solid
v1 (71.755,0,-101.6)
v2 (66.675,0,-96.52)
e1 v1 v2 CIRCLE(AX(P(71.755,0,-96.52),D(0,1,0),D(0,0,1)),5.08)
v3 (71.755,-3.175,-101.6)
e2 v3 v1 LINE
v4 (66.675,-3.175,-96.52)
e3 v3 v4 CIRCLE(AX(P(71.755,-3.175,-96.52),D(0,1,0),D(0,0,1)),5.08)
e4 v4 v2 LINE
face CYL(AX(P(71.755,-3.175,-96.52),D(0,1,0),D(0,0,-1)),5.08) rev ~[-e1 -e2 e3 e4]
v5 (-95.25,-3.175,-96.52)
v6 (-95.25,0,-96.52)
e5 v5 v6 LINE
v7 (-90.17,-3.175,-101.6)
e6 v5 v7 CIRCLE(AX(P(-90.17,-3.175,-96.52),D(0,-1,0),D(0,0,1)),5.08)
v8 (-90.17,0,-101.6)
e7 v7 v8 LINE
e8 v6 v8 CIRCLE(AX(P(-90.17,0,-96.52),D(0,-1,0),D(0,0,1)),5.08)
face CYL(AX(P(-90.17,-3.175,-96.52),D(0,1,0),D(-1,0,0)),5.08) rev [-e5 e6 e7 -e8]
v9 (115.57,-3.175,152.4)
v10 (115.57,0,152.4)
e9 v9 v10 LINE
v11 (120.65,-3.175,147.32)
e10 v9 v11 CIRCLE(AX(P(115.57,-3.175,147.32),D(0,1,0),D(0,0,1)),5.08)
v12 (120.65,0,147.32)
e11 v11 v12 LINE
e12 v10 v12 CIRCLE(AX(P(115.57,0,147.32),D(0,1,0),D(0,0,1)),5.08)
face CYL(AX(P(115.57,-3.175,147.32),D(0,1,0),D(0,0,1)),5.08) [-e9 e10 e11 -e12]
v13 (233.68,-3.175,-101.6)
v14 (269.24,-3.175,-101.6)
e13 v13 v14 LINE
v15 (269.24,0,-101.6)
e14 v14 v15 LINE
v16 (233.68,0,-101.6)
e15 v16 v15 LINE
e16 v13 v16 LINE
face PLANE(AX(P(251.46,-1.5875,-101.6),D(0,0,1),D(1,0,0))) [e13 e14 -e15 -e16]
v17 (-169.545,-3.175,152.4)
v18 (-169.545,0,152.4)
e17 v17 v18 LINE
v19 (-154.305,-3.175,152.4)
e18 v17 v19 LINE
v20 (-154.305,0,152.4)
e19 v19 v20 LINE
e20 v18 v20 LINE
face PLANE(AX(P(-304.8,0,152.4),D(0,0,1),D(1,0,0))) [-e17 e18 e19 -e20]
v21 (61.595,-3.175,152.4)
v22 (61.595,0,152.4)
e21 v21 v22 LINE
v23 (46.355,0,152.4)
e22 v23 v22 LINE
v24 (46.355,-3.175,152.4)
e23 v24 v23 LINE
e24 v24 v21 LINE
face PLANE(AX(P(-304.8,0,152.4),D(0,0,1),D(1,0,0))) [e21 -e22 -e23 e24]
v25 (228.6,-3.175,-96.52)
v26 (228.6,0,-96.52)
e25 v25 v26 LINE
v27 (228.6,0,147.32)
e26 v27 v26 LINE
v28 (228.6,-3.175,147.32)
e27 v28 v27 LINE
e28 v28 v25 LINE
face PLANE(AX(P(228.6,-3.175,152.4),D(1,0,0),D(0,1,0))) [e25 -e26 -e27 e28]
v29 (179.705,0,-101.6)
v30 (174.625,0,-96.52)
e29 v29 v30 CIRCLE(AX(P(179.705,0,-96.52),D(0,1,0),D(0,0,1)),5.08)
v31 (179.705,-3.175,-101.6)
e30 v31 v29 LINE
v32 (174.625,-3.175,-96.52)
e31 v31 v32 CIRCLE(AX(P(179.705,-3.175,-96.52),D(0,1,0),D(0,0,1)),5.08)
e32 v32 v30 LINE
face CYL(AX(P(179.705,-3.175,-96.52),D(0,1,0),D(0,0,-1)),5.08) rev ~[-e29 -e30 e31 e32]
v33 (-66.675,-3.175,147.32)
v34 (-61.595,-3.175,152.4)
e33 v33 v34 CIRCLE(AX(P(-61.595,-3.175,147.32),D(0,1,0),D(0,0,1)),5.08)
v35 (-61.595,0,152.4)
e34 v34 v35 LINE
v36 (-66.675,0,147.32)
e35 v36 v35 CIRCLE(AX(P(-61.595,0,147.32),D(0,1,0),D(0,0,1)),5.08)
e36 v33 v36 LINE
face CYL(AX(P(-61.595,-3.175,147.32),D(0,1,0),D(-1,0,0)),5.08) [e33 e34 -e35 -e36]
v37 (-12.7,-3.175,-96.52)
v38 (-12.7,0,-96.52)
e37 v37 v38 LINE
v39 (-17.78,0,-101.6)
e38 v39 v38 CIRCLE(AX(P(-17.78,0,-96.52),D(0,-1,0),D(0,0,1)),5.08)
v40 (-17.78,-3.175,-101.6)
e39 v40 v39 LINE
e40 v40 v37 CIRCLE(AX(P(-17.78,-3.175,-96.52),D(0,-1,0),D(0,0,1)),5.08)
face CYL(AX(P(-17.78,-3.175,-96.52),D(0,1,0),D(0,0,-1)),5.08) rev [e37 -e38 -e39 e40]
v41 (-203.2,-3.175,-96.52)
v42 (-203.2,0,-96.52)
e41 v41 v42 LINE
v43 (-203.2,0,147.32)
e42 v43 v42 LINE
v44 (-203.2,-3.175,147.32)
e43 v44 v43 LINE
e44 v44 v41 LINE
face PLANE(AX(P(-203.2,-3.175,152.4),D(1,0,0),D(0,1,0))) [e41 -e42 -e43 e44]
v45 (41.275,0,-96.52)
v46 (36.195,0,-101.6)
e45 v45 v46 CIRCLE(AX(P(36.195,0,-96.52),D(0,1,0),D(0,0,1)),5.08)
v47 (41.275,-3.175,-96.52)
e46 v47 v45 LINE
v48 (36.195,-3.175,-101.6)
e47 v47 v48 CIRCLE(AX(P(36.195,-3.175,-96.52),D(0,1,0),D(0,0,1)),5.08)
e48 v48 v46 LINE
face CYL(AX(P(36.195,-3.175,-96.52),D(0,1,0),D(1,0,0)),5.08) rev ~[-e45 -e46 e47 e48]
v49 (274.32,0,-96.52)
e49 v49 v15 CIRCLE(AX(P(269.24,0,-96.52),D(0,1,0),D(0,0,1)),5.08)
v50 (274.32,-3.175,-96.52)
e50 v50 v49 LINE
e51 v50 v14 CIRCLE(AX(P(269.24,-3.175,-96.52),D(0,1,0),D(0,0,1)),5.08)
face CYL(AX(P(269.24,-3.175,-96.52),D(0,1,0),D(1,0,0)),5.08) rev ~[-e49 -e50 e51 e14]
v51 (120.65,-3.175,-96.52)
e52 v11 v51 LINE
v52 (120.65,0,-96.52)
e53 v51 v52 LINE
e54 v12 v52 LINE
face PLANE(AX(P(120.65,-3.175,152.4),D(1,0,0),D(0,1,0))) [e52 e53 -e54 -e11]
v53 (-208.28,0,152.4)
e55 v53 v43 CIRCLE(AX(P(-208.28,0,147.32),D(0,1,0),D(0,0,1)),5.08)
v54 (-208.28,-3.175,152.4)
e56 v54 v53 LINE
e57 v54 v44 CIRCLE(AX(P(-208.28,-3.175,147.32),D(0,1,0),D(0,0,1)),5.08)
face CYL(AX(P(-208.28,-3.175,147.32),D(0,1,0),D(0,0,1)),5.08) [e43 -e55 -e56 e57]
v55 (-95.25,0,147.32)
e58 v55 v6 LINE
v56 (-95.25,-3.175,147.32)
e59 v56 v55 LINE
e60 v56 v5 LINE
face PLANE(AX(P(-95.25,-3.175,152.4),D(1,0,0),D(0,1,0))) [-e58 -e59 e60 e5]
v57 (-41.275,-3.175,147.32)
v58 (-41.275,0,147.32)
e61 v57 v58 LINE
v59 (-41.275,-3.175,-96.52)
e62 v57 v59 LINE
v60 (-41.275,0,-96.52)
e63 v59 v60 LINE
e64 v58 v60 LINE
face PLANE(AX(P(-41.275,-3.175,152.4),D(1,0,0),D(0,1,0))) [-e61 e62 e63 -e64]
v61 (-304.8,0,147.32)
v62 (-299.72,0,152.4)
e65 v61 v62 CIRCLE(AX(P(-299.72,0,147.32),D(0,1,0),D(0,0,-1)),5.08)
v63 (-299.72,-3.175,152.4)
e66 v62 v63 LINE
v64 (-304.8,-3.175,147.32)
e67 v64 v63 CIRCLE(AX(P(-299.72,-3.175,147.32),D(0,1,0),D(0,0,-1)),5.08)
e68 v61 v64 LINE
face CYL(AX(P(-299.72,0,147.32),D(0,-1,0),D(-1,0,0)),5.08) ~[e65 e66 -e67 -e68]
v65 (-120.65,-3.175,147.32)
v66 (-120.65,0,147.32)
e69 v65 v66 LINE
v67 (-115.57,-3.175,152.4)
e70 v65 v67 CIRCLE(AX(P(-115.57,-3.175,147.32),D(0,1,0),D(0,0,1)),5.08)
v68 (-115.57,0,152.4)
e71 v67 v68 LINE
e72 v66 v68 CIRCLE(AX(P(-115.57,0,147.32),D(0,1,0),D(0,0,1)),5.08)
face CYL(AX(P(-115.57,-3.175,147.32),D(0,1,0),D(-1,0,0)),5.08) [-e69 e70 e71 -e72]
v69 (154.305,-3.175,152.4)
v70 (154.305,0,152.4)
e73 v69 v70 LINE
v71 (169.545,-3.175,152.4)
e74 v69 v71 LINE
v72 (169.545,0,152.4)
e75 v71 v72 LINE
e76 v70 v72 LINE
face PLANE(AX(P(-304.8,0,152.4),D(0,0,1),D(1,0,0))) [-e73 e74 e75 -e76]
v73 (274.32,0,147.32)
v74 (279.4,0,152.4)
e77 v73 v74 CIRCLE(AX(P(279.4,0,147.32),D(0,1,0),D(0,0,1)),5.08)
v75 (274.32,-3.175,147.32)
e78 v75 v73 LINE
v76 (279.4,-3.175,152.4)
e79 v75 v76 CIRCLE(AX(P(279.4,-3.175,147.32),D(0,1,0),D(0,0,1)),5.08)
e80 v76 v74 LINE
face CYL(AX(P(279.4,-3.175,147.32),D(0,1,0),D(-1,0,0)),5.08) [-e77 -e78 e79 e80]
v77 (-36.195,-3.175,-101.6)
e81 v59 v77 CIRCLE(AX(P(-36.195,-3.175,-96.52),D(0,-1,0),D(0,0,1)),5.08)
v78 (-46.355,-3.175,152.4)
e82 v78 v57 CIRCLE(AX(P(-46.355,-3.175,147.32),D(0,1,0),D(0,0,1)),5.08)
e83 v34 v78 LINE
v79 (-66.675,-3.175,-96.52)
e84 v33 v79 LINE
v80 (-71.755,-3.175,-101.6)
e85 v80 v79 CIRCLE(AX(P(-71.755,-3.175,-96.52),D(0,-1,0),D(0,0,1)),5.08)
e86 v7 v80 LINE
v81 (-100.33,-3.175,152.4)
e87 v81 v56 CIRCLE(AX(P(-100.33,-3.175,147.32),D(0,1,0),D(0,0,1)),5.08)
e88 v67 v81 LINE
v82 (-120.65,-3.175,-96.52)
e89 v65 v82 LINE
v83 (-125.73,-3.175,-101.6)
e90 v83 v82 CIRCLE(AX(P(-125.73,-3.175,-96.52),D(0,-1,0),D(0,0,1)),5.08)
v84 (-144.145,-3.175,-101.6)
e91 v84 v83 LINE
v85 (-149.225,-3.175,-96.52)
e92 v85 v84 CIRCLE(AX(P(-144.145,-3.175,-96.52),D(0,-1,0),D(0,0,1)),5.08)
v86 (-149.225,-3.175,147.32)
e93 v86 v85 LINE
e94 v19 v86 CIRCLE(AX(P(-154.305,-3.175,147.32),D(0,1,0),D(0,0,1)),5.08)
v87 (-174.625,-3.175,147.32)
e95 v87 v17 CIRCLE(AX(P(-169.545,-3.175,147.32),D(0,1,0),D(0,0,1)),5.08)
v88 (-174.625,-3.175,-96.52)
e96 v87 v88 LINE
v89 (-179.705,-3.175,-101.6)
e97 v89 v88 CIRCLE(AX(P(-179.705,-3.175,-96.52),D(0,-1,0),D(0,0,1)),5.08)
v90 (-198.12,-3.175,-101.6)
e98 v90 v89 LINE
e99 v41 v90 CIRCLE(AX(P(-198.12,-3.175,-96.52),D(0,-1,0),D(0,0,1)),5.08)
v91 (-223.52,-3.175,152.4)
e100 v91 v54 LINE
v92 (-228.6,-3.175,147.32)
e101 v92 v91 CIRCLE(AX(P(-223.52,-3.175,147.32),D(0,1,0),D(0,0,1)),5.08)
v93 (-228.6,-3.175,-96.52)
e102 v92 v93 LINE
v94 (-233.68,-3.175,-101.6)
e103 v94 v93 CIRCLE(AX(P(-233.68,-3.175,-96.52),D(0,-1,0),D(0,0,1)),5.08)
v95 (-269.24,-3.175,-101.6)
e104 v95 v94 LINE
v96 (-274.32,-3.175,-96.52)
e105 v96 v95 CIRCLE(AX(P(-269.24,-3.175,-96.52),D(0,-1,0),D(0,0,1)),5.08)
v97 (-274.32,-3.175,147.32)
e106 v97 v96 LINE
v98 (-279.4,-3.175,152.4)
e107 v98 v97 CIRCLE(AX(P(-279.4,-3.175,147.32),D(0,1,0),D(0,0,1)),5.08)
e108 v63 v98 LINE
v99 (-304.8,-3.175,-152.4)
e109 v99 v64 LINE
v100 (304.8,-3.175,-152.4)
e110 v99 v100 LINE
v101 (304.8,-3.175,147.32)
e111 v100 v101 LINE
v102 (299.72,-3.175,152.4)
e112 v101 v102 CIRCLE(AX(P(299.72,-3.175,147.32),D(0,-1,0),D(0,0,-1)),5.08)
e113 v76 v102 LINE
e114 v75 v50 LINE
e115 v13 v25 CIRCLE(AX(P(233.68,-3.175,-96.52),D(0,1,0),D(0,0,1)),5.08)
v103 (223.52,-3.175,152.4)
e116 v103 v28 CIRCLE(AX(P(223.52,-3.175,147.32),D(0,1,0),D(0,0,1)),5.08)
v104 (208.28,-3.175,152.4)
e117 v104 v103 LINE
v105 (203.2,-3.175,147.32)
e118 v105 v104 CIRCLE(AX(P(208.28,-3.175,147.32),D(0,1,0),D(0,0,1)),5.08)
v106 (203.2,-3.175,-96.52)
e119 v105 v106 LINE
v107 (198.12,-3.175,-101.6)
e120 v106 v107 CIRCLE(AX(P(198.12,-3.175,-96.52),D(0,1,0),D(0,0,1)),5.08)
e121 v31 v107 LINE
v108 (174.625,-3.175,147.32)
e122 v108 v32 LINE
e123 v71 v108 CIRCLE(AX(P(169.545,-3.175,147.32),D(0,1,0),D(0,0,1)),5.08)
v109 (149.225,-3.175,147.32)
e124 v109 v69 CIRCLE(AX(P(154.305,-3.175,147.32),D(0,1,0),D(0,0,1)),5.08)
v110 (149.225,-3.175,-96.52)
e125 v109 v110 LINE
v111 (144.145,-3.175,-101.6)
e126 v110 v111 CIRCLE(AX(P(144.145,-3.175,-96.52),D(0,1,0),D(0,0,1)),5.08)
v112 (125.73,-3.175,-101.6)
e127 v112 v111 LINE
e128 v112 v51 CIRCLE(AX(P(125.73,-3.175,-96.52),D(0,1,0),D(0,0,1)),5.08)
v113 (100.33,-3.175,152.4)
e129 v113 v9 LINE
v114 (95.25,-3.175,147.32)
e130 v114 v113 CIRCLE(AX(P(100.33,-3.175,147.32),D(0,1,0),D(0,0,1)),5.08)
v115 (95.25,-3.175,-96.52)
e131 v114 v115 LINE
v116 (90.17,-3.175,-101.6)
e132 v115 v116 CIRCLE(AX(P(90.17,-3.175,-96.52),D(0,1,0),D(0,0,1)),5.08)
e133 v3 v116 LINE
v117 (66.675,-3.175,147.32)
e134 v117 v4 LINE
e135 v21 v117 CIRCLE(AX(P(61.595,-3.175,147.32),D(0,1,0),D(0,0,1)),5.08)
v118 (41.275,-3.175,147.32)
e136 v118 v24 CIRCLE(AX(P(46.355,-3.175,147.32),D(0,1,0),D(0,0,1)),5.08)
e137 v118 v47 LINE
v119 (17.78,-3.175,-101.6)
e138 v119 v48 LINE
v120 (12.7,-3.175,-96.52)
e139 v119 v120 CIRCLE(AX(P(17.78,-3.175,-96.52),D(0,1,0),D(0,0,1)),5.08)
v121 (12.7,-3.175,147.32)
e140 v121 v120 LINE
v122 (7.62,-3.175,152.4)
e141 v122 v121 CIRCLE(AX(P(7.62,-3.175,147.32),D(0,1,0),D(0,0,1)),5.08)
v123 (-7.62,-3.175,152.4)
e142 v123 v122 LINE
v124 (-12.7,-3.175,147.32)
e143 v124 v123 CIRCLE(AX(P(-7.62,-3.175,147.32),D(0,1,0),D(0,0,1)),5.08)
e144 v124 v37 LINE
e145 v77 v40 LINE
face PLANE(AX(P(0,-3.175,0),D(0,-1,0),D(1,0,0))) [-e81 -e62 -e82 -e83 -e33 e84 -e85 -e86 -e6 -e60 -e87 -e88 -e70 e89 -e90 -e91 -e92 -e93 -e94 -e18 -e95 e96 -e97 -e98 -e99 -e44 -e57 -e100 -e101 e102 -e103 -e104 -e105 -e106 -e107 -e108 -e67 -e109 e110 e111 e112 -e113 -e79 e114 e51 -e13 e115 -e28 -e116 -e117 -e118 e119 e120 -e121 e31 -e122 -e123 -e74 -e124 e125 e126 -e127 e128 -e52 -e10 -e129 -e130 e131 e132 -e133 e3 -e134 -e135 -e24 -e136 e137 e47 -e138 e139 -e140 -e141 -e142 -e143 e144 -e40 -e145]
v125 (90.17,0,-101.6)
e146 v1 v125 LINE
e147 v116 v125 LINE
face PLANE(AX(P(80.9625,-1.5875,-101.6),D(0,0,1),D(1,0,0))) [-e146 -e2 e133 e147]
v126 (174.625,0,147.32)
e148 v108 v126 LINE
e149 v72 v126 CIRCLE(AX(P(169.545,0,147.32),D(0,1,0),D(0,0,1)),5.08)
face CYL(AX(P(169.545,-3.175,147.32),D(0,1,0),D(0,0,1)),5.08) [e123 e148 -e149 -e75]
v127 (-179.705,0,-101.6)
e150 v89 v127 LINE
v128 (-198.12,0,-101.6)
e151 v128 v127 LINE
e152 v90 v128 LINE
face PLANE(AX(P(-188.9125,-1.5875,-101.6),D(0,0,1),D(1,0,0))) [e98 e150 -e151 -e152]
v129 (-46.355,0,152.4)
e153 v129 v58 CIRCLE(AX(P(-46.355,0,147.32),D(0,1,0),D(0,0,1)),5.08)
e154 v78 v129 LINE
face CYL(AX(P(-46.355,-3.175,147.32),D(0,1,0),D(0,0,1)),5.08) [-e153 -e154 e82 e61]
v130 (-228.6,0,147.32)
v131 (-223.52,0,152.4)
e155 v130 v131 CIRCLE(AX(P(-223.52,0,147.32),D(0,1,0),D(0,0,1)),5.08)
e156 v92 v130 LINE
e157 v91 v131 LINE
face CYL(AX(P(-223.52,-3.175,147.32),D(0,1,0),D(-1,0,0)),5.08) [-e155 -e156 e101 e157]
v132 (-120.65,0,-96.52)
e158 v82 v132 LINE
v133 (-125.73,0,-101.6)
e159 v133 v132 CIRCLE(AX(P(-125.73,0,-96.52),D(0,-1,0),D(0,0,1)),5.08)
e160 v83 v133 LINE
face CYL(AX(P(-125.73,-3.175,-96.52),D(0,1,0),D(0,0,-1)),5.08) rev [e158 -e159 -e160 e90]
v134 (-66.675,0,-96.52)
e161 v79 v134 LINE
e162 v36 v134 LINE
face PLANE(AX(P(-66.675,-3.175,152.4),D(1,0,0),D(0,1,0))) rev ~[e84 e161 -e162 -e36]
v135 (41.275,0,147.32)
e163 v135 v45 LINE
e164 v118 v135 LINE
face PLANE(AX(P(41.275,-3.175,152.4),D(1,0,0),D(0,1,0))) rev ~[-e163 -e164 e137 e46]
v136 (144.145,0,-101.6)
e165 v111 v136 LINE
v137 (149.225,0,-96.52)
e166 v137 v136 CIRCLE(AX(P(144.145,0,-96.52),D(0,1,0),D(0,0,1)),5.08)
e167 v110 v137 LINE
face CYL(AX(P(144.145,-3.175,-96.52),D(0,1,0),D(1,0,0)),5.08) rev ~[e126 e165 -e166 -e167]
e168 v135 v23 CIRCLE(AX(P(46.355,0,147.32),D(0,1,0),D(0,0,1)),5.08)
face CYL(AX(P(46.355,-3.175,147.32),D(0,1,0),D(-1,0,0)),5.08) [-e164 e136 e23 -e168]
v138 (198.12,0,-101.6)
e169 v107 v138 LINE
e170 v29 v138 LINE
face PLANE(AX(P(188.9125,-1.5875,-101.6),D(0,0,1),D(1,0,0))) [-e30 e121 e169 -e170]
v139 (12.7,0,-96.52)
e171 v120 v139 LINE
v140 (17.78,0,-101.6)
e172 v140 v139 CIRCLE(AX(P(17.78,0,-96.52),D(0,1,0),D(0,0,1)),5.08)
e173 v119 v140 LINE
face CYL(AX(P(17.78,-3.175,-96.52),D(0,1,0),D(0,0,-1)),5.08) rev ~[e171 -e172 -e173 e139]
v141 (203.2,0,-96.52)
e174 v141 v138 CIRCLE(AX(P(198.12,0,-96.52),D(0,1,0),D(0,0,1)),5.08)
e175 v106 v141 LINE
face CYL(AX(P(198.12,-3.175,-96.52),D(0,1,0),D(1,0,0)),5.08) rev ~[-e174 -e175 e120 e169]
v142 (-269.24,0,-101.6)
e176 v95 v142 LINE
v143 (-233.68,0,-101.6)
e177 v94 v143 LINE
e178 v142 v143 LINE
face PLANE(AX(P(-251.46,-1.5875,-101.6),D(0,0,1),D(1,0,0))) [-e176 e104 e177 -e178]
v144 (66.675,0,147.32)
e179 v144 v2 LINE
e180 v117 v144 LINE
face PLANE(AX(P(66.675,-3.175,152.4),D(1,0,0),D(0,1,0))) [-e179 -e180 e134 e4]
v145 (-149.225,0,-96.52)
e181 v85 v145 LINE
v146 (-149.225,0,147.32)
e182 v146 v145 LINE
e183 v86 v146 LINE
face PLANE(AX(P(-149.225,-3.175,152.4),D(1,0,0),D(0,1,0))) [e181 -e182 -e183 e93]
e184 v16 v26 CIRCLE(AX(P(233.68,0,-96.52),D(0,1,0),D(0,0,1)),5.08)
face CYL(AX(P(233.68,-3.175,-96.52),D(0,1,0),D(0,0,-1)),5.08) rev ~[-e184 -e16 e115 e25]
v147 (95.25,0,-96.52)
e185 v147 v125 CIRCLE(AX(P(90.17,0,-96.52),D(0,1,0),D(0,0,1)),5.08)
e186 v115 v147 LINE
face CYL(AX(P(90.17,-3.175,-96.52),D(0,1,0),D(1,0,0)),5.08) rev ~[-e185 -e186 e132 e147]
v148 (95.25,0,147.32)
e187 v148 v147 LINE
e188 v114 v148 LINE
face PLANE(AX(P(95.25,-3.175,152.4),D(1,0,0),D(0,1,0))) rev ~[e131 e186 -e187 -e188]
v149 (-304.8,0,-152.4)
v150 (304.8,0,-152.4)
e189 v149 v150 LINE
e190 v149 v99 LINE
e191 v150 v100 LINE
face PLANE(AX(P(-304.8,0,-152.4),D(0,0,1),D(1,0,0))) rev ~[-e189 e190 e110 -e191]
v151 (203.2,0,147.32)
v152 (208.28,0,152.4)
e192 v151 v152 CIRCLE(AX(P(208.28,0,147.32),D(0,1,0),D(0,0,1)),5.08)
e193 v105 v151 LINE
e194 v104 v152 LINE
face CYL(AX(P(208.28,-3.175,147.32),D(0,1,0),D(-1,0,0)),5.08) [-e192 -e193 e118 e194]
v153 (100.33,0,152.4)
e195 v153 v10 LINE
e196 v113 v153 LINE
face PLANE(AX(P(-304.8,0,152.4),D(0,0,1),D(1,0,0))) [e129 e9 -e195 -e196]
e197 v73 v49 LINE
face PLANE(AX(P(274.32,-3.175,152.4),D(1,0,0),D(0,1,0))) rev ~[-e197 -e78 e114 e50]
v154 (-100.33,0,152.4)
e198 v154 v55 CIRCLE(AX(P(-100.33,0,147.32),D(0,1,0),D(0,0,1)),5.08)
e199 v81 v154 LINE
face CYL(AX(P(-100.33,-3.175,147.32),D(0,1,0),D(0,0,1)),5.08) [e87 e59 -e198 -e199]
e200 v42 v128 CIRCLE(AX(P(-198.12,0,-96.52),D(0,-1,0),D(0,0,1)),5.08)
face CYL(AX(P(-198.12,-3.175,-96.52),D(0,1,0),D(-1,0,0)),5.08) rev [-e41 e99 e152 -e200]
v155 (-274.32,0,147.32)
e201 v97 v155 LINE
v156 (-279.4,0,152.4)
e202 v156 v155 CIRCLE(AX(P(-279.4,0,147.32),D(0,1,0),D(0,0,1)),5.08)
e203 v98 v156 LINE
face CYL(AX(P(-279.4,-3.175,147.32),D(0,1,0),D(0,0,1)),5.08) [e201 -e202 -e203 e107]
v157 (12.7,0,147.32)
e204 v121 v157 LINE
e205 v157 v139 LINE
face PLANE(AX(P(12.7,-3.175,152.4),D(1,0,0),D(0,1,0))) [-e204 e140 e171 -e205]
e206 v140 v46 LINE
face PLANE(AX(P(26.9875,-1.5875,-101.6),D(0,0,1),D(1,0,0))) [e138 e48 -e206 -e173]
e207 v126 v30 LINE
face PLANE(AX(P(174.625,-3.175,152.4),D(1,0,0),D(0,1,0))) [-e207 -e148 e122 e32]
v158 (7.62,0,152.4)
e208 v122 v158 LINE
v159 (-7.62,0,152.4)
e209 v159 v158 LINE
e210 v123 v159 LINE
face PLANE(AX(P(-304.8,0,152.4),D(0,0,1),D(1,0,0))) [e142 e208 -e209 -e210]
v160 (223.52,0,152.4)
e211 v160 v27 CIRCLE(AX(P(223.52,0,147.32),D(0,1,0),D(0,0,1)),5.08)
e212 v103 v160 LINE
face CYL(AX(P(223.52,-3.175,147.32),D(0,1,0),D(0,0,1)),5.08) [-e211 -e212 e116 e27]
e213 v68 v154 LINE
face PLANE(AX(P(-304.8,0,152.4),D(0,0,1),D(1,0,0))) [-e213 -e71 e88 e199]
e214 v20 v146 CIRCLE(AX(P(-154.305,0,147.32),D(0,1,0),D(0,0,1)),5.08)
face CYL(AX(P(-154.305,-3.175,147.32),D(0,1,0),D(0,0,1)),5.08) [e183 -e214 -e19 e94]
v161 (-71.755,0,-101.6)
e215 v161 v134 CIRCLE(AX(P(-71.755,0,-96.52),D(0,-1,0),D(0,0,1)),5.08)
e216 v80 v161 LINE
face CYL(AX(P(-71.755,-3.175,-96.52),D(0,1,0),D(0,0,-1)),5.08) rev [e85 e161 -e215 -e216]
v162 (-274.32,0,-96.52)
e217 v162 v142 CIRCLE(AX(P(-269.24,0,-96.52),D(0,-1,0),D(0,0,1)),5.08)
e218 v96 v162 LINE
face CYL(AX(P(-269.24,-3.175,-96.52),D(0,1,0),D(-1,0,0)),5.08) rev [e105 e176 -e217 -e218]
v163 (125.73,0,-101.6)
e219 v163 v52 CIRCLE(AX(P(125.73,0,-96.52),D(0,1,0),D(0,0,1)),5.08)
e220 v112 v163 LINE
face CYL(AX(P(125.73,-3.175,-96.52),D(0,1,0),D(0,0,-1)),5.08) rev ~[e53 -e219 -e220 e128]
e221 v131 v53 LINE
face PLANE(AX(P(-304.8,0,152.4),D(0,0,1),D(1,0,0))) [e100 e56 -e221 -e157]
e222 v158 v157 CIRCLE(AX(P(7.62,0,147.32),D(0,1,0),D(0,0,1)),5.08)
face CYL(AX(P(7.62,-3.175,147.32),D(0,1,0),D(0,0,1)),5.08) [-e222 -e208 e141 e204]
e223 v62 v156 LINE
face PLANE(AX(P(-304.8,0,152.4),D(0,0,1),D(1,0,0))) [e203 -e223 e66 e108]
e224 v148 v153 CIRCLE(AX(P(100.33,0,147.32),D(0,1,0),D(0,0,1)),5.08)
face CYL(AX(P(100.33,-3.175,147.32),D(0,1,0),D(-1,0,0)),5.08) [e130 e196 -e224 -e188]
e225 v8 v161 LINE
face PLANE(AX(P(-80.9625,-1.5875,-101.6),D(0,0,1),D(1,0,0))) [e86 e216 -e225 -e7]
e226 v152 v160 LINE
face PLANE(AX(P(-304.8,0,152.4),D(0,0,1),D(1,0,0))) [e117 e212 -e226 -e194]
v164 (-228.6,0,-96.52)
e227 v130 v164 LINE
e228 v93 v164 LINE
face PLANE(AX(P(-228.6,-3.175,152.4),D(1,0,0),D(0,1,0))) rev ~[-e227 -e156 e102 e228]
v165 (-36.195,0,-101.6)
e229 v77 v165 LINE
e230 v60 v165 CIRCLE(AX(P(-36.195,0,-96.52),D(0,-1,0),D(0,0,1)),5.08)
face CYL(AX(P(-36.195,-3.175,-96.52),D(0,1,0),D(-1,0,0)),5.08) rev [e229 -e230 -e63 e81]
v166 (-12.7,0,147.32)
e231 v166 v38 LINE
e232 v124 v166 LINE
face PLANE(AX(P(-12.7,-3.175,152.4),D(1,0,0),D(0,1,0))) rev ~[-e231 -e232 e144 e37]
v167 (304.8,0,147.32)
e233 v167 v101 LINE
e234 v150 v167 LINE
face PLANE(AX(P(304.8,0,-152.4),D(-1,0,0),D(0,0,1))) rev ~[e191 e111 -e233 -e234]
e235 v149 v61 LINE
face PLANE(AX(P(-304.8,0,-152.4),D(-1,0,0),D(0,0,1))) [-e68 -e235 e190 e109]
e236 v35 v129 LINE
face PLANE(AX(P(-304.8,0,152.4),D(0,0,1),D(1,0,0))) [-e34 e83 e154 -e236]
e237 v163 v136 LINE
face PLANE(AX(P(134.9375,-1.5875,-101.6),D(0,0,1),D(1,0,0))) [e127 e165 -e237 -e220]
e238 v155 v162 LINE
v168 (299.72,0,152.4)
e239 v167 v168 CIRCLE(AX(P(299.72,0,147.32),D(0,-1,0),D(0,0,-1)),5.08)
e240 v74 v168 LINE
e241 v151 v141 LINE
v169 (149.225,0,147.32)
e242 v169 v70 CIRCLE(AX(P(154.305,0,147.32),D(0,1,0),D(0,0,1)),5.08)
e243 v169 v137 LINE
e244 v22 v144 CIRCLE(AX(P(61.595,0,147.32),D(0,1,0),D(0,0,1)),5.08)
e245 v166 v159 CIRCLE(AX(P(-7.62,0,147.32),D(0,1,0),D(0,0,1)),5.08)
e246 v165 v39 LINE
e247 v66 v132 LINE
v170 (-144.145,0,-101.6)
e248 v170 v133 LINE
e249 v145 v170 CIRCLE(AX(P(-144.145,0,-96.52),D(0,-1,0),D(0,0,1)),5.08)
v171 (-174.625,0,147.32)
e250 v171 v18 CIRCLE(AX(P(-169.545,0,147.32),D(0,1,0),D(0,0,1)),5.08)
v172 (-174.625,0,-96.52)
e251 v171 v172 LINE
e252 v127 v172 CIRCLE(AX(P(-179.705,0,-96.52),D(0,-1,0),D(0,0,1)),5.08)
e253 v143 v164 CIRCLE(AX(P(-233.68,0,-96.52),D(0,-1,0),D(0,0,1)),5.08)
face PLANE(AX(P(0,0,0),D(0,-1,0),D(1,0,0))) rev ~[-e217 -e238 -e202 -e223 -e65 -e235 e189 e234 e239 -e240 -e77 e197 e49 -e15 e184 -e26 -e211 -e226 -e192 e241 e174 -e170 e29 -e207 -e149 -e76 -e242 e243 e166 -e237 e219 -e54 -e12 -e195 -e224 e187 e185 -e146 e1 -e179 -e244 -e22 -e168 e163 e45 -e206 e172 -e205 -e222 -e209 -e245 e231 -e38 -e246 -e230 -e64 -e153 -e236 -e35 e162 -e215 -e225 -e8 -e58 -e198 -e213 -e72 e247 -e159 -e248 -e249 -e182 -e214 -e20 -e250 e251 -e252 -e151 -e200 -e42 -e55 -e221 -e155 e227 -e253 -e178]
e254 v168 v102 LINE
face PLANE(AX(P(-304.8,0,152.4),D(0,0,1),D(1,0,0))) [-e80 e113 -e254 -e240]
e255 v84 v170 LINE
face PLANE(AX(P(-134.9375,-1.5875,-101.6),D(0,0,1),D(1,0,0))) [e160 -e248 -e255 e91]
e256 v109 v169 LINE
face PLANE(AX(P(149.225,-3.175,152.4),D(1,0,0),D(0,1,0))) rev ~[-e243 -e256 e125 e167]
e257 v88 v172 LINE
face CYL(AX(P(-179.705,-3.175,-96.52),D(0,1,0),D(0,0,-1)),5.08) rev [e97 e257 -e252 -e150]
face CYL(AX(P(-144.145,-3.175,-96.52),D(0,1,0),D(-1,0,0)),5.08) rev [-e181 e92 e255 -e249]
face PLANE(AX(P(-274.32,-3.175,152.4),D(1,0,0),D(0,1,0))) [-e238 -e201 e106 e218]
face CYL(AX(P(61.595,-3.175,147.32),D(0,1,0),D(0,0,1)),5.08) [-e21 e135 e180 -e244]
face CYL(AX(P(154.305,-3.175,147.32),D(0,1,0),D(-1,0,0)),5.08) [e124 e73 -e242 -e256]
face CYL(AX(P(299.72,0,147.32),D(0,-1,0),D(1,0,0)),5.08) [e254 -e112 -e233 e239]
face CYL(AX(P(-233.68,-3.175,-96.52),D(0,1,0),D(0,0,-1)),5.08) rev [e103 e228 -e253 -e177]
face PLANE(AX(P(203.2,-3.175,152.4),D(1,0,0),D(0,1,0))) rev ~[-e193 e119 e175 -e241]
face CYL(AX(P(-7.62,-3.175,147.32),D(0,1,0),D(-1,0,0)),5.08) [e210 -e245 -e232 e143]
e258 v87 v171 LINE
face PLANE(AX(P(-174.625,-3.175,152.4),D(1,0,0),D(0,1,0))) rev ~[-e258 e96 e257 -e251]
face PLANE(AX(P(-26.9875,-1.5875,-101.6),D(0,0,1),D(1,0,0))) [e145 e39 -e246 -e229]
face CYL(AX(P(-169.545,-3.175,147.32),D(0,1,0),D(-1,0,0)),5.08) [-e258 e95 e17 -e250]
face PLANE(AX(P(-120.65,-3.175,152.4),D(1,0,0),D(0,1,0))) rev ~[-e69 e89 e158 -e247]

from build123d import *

# Parameters (mm, degrees)
F0_W     = 609.6
F0_H     = 304.8
F1_DEPTH = 3.175
F2_W     = 45.72
F2_H     = 3.175
F2_W_2   = 28.575
F3_DEPTH = 254
F4_R     = 5.08
F5_R     = 5.08


with BuildPart() as f1:
    # F0 (on Front) → F1 (new body)
    with BuildSketch(Plane.XZ):
        Rectangle(F0_W, F0_H)
    extrude(amount=F1_DEPTH)

    # F2 (on face) → F3 (cut)
    with BuildSketch(Plane.XY.offset(152.4)):
        with Locations((-251.46, -1.5875)):
            Rectangle(F2_W, F2_H)
        with Locations((-188.9125, -1.5875)):
            Rectangle(F2_W_2, F2_H)
        with Locations((-134.9375, -1.5875)):
            Rectangle(F2_W_2, F2_H)
        with Locations((-80.9625, -1.5875)):
            Rectangle(F2_W_2, F2_H)
        with Locations((-26.9875, -1.5875)):
            Rectangle(F2_W_2, F2_H)
        with Locations((26.9875, -1.5875)):
            Rectangle(F2_W_2, F2_H)
        with Locations((80.9625, -1.5875)):
            Rectangle(F2_W_2, F2_H)
        with Locations((134.9375, -1.5875)):
            Rectangle(F2_W_2, F2_H)
        with Locations((188.9125, -1.5875)):
            Rectangle(F2_W_2, F2_H)
        with Locations((251.46, -1.5875)):
            Rectangle(F2_W, F2_H)
    extrude(amount=-F3_DEPTH, mode=Mode.SUBTRACT)

    # F4
    f4_edges = [f1.edges().sort_by_distance(p)[0] for p in [
        (-274.32, -1.5875, 152.4),
        (-228.6, -1.5875, 152.4),
        (-228.6, -1.5875, -101.6),
        (-274.32, -1.5875, -101.6),
        (-304.8, -1.5875, 152.4),
        (304.8, -1.5875, 152.4),
        (-203.2, -1.5875, 152.4),
        (-174.625, -1.5875, 152.4),
        (-149.225, -1.5875, 152.4),
        (-120.65, -1.5875, 152.4),
        (-95.25, -1.5875, 152.4),
        (-66.675, -1.5875, 152.4),
        (-41.275, -1.5875, 152.4),
        (-12.7, -1.5875, 152.4),
        (12.7, -1.5875, 152.4),
        (66.675, -1.5875, 152.4),
        (95.25, -1.5875, 152.4),
        (149.225, -1.5875, 152.4),
        (41.275, -1.5875, 152.4),
        (120.65, -1.5875, 152.4),
        (174.625, -1.5875, 152.4),
        (228.6, -1.5875, 152.4),
        (274.32, -1.5875, 152.4),
        (203.2, -1.5875, 152.4),
    ]]
    fillet(f4_edges, radius=F4_R)

    # F5
    f5_edges = [f1.edges().sort_by_distance(p)[0] for p in [
        (-174.625, -1.5875, -101.6),
        (-120.65, -1.5875, -101.6),
        (-66.675, -1.5875, -101.6),
        (-12.7, -1.5875, -101.6),
        (41.275, -1.5875, -101.6),
        (95.25, -1.5875, -101.6),
        (149.225, -1.5875, -101.6),
        (203.2, -1.5875, -101.6),
        (274.32, -1.5875, -101.6),
        (228.6, -1.5875, -101.6),
        (174.625, -1.5875, -101.6),
        (120.65, -1.5875, -101.6),
        (66.675, -1.5875, -101.6),
        (12.7, -1.5875, -101.6),
        (-41.275, -1.5875, -101.6),
        (-95.25, -1.5875, -101.6),
        (-149.225, -1.5875, -101.6),
        (-203.2, -1.5875, -101.6),
    ]]
    fillet(f5_edges, radius=F5_R)


solid = f1.part
